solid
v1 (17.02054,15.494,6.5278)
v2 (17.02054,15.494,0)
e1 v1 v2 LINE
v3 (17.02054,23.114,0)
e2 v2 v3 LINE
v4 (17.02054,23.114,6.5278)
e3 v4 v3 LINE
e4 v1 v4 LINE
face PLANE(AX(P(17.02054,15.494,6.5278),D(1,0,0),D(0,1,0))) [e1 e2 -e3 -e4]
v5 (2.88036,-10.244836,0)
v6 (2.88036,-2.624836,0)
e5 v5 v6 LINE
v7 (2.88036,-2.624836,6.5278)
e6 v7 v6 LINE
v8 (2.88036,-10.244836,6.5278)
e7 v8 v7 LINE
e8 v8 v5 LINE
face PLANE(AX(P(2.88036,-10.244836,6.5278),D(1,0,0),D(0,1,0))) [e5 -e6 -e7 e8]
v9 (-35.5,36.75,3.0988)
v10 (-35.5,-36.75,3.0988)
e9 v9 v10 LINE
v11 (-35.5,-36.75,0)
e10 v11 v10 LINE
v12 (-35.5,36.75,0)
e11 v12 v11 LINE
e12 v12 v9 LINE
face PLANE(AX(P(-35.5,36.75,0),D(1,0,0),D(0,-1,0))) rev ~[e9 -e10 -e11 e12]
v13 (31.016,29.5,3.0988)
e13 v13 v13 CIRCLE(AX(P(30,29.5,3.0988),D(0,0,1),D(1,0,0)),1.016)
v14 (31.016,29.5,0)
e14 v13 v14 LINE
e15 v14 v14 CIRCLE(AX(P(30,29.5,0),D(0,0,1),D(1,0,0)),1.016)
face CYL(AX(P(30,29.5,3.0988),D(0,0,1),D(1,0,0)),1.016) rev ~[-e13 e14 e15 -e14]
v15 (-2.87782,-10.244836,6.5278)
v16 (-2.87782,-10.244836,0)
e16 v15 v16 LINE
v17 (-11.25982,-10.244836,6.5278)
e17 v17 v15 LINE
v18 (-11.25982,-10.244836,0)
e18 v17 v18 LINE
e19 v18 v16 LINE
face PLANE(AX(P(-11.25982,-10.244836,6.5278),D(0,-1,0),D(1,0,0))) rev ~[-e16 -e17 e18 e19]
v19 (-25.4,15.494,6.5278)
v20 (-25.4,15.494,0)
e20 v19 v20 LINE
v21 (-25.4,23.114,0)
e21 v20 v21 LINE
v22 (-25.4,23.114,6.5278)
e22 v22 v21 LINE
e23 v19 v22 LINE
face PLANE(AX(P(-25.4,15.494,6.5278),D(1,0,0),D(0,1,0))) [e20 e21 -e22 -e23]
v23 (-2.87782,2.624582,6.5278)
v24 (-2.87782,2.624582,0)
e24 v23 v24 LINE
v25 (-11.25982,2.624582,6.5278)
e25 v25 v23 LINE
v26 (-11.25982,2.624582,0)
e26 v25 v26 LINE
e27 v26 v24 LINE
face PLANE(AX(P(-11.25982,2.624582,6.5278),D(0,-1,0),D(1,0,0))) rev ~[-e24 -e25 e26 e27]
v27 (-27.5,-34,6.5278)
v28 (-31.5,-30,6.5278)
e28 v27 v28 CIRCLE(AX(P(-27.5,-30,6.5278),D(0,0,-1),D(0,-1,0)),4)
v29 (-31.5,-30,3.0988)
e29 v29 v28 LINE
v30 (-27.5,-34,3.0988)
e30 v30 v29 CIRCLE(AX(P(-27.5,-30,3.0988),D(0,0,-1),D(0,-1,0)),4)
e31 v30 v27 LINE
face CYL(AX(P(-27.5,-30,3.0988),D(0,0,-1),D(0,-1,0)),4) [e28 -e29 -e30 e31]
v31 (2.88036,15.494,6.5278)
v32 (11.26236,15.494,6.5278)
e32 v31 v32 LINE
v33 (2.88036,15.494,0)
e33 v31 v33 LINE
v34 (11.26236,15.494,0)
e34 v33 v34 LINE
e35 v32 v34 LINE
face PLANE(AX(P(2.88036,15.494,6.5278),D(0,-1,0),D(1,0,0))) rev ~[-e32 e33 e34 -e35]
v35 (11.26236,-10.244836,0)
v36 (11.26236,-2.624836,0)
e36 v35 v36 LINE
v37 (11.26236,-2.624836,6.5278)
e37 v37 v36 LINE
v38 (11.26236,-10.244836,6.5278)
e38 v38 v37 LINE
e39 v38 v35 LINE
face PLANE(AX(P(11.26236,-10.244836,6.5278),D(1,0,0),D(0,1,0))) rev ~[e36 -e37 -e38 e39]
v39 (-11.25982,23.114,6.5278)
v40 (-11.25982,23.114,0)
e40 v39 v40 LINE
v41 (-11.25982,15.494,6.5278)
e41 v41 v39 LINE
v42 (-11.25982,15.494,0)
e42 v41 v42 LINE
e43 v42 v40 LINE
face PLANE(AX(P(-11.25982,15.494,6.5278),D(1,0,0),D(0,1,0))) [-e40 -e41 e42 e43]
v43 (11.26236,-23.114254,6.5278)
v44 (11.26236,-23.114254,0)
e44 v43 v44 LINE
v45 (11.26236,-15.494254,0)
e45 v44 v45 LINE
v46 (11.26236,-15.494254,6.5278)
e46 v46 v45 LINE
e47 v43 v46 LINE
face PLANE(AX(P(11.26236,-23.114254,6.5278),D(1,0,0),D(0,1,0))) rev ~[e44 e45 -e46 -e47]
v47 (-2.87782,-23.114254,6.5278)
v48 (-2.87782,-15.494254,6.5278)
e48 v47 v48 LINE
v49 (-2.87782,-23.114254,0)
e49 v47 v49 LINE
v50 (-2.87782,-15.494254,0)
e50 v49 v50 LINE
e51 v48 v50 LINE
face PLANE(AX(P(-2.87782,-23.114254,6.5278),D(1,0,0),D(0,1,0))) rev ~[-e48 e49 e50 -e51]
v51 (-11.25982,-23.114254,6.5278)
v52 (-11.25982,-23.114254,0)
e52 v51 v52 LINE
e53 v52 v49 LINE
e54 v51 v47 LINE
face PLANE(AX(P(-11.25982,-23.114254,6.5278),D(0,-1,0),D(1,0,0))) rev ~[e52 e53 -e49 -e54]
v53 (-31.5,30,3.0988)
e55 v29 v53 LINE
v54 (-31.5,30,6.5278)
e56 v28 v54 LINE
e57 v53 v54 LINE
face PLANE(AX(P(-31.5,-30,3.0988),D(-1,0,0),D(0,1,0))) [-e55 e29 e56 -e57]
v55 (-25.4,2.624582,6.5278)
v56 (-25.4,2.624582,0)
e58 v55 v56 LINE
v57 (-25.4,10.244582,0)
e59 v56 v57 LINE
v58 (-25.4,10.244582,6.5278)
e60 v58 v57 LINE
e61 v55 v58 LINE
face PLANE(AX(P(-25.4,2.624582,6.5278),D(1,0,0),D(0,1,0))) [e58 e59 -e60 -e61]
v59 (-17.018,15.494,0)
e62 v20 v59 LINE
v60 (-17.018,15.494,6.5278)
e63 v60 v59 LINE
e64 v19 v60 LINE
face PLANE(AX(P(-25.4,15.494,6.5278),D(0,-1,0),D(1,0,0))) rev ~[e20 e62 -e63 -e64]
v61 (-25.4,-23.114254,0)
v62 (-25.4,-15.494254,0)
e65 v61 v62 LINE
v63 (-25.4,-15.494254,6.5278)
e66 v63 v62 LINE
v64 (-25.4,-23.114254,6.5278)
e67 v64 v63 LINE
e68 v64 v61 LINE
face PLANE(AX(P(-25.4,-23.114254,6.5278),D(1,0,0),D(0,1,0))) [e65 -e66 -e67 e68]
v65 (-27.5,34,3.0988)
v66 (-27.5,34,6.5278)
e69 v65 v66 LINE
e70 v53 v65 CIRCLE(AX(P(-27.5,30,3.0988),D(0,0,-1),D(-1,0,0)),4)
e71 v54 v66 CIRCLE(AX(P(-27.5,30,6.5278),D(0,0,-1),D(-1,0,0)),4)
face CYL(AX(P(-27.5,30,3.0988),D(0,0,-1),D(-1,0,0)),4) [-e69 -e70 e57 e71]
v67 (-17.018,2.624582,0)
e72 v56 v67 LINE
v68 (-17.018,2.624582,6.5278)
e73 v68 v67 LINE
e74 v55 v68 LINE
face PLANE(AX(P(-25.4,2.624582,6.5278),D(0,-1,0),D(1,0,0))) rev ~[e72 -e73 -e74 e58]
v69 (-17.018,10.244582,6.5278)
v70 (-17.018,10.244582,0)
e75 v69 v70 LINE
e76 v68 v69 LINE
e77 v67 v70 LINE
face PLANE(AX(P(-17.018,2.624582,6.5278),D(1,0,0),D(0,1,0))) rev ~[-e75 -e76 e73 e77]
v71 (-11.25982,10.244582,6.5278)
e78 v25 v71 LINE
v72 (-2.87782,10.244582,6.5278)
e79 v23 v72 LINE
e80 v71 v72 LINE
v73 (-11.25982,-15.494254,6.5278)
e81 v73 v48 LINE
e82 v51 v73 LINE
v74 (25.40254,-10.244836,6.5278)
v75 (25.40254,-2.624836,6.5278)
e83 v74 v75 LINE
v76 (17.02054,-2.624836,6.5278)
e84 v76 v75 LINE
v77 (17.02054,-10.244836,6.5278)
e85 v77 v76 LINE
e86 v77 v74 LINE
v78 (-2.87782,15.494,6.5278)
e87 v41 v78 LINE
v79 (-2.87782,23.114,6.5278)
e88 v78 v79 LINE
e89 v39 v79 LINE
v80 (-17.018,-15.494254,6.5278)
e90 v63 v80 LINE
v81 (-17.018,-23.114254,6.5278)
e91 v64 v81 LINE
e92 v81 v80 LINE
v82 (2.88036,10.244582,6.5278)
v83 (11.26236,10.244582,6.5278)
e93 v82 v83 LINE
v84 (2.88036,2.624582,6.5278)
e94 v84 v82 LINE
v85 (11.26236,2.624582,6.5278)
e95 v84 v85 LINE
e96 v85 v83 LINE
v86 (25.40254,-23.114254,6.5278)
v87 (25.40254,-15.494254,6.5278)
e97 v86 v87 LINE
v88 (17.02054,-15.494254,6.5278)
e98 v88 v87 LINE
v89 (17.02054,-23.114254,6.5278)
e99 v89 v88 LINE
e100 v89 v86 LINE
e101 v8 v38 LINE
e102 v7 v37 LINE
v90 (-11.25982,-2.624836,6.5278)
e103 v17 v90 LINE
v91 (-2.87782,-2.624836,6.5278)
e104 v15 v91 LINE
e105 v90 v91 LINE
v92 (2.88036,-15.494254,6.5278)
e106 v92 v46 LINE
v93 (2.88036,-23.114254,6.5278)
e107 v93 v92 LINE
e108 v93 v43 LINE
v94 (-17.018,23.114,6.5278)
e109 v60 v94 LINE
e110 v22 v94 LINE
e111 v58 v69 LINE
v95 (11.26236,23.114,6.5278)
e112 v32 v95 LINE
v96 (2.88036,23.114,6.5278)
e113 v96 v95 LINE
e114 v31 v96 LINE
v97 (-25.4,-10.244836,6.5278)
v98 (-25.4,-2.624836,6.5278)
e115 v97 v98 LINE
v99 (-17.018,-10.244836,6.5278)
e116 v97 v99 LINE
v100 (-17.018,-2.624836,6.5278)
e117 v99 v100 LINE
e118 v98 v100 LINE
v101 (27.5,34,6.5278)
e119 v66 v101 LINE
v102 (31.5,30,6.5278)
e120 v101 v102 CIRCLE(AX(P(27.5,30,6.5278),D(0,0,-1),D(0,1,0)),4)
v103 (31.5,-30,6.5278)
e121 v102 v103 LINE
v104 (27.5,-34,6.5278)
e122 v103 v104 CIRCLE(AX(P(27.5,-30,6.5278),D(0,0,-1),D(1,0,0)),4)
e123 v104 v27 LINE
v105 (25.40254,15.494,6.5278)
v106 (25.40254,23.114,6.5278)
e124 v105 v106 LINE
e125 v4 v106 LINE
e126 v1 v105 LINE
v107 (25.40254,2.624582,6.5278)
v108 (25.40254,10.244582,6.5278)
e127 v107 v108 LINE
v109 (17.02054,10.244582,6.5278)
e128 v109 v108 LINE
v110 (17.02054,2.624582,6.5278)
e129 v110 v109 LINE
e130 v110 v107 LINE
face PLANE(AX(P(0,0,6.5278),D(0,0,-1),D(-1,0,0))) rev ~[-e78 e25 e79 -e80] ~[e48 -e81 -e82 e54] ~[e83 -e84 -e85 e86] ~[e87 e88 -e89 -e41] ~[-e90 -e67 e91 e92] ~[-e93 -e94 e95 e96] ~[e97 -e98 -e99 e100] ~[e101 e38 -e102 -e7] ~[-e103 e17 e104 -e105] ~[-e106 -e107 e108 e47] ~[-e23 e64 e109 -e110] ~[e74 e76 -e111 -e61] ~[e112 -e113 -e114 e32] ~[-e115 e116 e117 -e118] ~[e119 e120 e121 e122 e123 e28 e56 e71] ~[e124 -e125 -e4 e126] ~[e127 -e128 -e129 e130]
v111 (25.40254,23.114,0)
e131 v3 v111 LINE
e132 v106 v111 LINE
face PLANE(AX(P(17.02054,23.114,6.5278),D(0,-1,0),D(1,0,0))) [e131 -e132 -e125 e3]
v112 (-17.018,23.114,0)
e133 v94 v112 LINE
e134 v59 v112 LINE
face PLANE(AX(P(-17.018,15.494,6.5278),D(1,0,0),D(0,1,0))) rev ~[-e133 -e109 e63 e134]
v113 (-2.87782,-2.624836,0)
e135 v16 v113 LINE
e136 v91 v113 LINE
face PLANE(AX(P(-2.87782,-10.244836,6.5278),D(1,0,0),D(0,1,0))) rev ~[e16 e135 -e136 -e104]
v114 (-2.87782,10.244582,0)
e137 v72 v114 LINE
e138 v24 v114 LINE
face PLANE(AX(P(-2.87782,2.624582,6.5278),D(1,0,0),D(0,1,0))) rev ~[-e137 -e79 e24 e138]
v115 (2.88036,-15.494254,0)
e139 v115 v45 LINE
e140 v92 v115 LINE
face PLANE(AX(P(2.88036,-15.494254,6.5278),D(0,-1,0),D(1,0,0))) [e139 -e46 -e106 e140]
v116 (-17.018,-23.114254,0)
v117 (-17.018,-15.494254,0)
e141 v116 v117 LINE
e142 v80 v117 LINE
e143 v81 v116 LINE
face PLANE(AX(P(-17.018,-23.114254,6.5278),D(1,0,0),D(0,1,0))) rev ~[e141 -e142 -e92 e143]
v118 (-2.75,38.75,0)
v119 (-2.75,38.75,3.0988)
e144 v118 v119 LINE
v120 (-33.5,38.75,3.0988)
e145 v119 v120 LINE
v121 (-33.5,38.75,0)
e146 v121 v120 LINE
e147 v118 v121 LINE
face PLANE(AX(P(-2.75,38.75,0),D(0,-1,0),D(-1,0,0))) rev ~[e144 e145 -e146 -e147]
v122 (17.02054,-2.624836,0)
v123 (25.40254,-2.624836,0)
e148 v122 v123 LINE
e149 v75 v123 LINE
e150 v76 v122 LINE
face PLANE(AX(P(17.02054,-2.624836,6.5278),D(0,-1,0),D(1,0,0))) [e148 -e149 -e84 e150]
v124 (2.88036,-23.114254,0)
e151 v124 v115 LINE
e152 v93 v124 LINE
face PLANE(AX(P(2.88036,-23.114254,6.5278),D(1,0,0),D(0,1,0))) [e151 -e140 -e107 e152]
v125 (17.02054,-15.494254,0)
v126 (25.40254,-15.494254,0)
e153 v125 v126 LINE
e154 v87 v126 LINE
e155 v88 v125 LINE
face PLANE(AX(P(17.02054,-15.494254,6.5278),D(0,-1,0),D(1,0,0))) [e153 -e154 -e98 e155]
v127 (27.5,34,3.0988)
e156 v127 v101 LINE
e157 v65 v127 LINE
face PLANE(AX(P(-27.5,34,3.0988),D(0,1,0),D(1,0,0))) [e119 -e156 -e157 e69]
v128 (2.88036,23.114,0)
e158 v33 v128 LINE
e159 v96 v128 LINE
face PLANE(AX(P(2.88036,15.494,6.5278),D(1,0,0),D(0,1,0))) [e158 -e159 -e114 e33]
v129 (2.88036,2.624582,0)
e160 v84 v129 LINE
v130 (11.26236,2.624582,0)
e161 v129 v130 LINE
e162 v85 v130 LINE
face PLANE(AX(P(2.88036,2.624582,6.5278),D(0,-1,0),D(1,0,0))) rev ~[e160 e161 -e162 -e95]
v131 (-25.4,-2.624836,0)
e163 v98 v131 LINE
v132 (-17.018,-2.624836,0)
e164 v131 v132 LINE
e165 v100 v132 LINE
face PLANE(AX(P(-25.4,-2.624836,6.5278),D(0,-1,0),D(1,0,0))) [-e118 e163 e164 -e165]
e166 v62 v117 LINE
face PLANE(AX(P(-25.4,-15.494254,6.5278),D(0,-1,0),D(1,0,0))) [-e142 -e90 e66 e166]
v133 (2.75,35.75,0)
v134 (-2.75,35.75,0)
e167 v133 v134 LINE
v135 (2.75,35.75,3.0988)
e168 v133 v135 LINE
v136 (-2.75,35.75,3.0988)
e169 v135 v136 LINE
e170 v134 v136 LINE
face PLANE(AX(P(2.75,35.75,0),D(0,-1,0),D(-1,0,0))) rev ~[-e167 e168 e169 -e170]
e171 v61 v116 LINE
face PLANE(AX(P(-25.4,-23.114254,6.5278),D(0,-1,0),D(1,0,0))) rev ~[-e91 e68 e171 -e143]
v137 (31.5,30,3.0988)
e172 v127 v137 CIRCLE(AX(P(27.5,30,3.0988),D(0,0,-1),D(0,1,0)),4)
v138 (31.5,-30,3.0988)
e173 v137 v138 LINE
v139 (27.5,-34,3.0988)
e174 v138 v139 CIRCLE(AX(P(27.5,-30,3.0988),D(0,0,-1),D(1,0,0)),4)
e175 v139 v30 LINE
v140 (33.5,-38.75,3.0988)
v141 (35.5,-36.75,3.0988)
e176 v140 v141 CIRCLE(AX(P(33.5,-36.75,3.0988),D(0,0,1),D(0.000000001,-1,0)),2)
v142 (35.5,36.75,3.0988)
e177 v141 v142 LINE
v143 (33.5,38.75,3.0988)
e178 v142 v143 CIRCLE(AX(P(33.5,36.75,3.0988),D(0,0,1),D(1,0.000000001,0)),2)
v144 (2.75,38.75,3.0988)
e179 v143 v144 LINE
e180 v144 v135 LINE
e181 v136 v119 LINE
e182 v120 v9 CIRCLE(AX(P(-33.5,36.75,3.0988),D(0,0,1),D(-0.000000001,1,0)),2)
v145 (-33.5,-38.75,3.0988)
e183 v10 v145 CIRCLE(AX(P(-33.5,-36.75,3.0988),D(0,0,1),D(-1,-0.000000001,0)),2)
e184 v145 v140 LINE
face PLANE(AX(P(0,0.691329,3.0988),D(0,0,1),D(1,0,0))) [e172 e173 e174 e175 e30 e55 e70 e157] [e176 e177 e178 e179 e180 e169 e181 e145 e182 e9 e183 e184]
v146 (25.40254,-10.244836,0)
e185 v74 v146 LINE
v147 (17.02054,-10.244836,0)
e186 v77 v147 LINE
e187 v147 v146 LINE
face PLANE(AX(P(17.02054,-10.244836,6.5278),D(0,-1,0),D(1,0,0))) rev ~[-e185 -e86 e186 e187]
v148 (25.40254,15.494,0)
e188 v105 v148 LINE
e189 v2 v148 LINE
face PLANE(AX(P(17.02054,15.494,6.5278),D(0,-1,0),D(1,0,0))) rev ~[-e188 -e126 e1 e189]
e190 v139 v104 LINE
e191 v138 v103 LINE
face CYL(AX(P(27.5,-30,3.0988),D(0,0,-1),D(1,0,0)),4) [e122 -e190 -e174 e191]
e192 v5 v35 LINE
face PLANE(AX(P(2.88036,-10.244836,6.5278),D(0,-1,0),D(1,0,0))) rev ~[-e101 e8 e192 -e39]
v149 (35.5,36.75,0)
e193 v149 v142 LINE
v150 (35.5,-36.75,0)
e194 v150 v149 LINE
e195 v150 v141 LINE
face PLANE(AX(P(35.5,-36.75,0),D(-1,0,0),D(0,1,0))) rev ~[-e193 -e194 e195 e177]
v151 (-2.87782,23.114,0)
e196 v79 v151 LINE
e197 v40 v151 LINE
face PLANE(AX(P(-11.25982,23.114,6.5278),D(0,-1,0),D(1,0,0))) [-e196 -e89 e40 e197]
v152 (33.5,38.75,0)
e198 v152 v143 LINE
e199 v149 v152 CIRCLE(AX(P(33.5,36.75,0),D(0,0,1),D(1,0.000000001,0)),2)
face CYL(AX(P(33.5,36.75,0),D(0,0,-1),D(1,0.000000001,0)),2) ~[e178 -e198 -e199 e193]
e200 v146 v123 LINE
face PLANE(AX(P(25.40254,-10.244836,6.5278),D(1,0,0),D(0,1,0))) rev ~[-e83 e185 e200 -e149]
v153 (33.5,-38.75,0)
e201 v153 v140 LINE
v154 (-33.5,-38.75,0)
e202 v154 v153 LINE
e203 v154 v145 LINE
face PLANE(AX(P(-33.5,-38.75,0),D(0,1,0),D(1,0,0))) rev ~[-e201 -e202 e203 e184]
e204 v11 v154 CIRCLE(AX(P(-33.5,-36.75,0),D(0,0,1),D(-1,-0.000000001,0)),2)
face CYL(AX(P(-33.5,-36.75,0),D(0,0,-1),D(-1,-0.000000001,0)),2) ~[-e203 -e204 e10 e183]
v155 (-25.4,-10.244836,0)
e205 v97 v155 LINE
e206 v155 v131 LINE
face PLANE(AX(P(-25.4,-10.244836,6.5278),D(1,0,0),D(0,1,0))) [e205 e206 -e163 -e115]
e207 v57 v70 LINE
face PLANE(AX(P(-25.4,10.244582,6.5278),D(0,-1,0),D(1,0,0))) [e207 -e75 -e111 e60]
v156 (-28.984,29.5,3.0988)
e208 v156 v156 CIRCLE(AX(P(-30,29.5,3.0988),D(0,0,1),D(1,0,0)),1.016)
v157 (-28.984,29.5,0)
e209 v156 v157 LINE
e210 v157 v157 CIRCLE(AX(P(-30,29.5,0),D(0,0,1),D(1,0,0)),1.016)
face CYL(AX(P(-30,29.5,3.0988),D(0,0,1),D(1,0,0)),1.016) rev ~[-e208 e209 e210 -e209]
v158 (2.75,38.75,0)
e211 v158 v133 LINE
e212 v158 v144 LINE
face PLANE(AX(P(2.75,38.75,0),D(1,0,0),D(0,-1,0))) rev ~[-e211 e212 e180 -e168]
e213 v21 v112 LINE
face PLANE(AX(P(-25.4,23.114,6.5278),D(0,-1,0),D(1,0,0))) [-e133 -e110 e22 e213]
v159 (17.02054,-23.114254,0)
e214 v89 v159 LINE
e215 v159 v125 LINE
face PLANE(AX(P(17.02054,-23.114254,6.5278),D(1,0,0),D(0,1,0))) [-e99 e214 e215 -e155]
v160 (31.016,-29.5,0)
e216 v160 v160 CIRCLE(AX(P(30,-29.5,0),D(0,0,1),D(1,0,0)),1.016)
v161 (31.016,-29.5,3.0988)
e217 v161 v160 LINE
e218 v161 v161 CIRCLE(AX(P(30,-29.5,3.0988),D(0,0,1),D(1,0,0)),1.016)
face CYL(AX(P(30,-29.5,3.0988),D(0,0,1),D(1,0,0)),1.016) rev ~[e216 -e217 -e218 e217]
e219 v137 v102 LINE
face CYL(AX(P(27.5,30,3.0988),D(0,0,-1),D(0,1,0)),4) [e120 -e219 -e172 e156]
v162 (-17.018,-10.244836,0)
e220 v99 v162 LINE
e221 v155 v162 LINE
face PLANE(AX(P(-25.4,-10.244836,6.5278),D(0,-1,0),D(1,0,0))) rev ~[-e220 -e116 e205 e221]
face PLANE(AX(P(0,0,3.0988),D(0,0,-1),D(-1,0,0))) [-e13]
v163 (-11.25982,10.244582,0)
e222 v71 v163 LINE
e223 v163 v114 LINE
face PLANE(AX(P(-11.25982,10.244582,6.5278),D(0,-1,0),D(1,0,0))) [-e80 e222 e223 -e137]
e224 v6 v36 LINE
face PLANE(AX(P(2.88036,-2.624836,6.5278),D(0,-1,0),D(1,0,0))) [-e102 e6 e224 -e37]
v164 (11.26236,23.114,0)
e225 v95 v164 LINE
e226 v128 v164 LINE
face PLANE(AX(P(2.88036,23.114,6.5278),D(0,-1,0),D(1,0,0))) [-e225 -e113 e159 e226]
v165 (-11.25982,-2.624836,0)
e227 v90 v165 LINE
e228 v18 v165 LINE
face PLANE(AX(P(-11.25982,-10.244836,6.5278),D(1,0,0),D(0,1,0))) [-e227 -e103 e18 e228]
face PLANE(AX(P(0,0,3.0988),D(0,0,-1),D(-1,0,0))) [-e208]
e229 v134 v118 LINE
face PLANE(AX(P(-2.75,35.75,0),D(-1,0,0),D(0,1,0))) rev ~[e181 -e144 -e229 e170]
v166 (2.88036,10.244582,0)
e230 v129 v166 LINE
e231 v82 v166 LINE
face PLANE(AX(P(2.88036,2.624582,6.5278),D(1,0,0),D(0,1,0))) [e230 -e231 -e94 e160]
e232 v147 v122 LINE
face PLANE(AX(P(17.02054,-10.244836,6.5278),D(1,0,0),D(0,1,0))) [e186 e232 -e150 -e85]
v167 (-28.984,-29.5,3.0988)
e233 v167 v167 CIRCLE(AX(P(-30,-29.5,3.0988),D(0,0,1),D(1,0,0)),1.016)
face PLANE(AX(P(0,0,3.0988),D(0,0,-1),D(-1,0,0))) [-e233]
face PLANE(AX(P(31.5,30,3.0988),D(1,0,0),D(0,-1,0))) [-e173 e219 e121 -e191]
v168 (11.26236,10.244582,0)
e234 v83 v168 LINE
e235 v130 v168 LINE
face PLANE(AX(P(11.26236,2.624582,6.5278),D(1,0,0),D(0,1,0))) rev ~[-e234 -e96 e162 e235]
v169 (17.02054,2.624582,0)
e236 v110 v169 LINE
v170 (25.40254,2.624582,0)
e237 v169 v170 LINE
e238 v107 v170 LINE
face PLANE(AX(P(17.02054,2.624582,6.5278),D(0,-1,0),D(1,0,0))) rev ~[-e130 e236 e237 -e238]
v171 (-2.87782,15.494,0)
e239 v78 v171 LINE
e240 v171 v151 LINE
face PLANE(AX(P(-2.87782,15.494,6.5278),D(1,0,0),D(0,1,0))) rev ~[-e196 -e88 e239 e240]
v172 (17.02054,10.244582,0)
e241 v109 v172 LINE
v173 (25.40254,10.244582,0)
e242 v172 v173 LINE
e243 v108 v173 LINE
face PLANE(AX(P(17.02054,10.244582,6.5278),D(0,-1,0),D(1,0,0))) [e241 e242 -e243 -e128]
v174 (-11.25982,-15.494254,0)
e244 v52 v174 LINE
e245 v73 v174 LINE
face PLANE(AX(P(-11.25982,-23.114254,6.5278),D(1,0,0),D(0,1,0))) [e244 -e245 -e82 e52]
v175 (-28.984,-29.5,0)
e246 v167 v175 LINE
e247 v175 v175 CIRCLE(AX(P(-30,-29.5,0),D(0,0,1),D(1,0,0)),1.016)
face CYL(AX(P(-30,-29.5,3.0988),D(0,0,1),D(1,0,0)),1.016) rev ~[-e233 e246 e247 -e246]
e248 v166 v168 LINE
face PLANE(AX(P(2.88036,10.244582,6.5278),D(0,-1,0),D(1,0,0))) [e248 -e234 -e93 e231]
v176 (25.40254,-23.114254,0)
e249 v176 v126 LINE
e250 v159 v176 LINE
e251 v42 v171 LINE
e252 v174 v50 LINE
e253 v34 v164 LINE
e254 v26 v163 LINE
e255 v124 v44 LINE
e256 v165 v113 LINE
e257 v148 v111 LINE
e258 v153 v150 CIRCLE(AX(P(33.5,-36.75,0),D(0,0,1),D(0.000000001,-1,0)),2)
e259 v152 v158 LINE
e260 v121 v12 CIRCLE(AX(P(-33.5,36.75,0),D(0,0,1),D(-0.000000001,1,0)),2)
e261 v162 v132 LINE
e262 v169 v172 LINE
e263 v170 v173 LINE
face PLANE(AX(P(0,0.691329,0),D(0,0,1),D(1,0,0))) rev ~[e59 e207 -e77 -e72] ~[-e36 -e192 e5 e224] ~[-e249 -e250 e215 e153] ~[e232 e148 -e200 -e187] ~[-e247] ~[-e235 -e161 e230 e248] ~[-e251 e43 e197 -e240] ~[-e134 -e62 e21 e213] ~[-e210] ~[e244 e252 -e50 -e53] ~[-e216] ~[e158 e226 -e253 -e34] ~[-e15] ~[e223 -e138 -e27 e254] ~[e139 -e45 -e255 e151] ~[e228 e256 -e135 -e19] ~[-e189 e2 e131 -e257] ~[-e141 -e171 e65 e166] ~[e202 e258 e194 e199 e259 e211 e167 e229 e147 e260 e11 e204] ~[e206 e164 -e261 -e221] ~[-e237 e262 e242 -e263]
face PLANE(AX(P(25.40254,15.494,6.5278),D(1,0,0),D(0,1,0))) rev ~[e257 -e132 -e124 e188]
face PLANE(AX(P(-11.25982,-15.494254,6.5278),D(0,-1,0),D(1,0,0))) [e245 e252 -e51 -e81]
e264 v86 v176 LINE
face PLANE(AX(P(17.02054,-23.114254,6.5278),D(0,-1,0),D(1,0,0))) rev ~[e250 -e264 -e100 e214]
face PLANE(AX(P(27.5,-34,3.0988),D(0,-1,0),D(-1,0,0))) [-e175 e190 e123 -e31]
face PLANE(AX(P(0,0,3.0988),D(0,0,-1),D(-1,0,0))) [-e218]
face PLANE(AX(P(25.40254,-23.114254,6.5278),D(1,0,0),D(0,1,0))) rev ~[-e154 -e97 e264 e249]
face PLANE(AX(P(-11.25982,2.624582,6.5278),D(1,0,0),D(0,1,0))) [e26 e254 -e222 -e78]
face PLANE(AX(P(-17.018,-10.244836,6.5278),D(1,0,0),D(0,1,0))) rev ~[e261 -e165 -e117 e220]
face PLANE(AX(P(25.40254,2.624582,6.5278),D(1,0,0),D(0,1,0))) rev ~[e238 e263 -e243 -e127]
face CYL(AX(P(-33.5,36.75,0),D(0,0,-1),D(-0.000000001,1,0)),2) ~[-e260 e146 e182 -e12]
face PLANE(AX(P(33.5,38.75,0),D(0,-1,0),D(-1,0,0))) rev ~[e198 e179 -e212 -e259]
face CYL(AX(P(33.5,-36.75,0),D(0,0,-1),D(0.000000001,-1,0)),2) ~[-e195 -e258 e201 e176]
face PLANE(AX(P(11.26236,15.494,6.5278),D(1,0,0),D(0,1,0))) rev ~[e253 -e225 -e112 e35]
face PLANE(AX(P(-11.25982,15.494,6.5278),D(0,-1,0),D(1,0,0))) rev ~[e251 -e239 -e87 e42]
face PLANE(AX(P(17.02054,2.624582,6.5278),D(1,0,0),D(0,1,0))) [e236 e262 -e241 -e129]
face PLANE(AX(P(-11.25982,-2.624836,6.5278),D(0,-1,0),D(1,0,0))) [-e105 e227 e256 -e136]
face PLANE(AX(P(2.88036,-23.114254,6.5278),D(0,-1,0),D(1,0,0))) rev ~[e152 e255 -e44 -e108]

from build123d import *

# Parameters (mm, degrees)
BASE_DEPTH        = 3.0988
SKETCH4_R         = 1.016
MOUNT_HOLES_DEPTH = 4.0988
EXTRUDE2_DEPTH    = 3.429
SKETCH3_W         = 8.382
SKETCH3_H         = 7.62
KEY_DEPTH         = 7.5278
KEYS_COUNT        = 4
KEYS_PITCH        = 14.14018
KEYS_COUNT_DIR2   = 4
KEYS_PITCH_DIR2   = 12.869418


with BuildPart() as part:
    # Sketch1 → base (new body)
    with BuildSketch(Plane.XY):
        with BuildLine():
            Line((-2.75, 38.75), (-33.5, 38.75))
            ThreePointArc((-33.5, 38.75), (-34.914213562, 38.164213562), (-35.5, 36.75))
            Line((-35.5, 36.75), (-35.5, -36.75))
            ThreePointArc((-35.5, -36.75), (-34.914213562, -38.164213562), (-33.5, -38.75))
            Line((-33.5, -38.75), (33.5, -38.75))
            ThreePointArc((33.5, -38.75), (34.914213562, -38.164213562), (35.5, -36.75))
            Line((35.5, -36.75), (35.5, 36.75))
            ThreePointArc((35.5, 36.75), (34.914213562, 38.164213562), (33.5, 38.75))
            Line((33.5, 38.75), (2.75, 38.75))
            Line((2.75, 38.75), (2.75, 35.75))
            Line((2.75, 35.75), (-2.75, 35.75))
            Line((-2.75, 35.75), (-2.75, 38.75))
        make_face()
    extrude(amount=BASE_DEPTH)

    # Sketch4 → mount holes (cut, through all)
    with BuildSketch(Plane.XY.offset(3.0988)):
        with Locations((-30, 29.5)):
            Circle(SKETCH4_R)
        with Locations((30, 29.5)):
            Circle(SKETCH4_R)
        with Locations((30, -29.5)):
            Circle(SKETCH4_R)
        with Locations((-30, -29.5)):
            Circle(SKETCH4_R)
    extrude(amount=-MOUNT_HOLES_DEPTH, mode=Mode.SUBTRACT)

    # Sketch2 → Extrude2 (add)
    with BuildSketch(Plane.XY.offset(3.0988)):
        with BuildLine():
            Line((-27.5, 34), (27.5, 34))
            ThreePointArc((27.5, 34), (30.328427125, 32.828427125), (31.5, 30))
            Line((31.5, 30), (31.5, -30))
            ThreePointArc((31.5, -30), (30.328427125, -32.828427125), (27.5, -34))
            Line((27.5, -34), (-27.5, -34))
            ThreePointArc((-27.5, -34), (-30.328427125, -32.828427125), (-31.5, -30))
            Line((-31.5, -30), (-31.5, 30))
            ThreePointArc((-31.5, 30), (-30.328427125, 32.828427125), (-27.5, 34))
        make_face()
    extrude(amount=EXTRUDE2_DEPTH)

    # Sketch3 → key (cut, through all)
    with BuildSketch(Plane.XY.offset(6.5278)):
        with Locations((-21.209, 19.304)):
            Rectangle(SKETCH3_W, SKETCH3_H)
    key = extrude(amount=-KEY_DEPTH, mode=Mode.SUBTRACT)

    # keys: key 4 × 4
    with Locations(*[(i * KEYS_PITCH, -j * KEYS_PITCH_DIR2, 0) for i in range(KEYS_COUNT) for j in range(KEYS_COUNT_DIR2) if (i, j) != (0, 0)]):
        add(key, mode=Mode.SUBTRACT)


solid = part.part
